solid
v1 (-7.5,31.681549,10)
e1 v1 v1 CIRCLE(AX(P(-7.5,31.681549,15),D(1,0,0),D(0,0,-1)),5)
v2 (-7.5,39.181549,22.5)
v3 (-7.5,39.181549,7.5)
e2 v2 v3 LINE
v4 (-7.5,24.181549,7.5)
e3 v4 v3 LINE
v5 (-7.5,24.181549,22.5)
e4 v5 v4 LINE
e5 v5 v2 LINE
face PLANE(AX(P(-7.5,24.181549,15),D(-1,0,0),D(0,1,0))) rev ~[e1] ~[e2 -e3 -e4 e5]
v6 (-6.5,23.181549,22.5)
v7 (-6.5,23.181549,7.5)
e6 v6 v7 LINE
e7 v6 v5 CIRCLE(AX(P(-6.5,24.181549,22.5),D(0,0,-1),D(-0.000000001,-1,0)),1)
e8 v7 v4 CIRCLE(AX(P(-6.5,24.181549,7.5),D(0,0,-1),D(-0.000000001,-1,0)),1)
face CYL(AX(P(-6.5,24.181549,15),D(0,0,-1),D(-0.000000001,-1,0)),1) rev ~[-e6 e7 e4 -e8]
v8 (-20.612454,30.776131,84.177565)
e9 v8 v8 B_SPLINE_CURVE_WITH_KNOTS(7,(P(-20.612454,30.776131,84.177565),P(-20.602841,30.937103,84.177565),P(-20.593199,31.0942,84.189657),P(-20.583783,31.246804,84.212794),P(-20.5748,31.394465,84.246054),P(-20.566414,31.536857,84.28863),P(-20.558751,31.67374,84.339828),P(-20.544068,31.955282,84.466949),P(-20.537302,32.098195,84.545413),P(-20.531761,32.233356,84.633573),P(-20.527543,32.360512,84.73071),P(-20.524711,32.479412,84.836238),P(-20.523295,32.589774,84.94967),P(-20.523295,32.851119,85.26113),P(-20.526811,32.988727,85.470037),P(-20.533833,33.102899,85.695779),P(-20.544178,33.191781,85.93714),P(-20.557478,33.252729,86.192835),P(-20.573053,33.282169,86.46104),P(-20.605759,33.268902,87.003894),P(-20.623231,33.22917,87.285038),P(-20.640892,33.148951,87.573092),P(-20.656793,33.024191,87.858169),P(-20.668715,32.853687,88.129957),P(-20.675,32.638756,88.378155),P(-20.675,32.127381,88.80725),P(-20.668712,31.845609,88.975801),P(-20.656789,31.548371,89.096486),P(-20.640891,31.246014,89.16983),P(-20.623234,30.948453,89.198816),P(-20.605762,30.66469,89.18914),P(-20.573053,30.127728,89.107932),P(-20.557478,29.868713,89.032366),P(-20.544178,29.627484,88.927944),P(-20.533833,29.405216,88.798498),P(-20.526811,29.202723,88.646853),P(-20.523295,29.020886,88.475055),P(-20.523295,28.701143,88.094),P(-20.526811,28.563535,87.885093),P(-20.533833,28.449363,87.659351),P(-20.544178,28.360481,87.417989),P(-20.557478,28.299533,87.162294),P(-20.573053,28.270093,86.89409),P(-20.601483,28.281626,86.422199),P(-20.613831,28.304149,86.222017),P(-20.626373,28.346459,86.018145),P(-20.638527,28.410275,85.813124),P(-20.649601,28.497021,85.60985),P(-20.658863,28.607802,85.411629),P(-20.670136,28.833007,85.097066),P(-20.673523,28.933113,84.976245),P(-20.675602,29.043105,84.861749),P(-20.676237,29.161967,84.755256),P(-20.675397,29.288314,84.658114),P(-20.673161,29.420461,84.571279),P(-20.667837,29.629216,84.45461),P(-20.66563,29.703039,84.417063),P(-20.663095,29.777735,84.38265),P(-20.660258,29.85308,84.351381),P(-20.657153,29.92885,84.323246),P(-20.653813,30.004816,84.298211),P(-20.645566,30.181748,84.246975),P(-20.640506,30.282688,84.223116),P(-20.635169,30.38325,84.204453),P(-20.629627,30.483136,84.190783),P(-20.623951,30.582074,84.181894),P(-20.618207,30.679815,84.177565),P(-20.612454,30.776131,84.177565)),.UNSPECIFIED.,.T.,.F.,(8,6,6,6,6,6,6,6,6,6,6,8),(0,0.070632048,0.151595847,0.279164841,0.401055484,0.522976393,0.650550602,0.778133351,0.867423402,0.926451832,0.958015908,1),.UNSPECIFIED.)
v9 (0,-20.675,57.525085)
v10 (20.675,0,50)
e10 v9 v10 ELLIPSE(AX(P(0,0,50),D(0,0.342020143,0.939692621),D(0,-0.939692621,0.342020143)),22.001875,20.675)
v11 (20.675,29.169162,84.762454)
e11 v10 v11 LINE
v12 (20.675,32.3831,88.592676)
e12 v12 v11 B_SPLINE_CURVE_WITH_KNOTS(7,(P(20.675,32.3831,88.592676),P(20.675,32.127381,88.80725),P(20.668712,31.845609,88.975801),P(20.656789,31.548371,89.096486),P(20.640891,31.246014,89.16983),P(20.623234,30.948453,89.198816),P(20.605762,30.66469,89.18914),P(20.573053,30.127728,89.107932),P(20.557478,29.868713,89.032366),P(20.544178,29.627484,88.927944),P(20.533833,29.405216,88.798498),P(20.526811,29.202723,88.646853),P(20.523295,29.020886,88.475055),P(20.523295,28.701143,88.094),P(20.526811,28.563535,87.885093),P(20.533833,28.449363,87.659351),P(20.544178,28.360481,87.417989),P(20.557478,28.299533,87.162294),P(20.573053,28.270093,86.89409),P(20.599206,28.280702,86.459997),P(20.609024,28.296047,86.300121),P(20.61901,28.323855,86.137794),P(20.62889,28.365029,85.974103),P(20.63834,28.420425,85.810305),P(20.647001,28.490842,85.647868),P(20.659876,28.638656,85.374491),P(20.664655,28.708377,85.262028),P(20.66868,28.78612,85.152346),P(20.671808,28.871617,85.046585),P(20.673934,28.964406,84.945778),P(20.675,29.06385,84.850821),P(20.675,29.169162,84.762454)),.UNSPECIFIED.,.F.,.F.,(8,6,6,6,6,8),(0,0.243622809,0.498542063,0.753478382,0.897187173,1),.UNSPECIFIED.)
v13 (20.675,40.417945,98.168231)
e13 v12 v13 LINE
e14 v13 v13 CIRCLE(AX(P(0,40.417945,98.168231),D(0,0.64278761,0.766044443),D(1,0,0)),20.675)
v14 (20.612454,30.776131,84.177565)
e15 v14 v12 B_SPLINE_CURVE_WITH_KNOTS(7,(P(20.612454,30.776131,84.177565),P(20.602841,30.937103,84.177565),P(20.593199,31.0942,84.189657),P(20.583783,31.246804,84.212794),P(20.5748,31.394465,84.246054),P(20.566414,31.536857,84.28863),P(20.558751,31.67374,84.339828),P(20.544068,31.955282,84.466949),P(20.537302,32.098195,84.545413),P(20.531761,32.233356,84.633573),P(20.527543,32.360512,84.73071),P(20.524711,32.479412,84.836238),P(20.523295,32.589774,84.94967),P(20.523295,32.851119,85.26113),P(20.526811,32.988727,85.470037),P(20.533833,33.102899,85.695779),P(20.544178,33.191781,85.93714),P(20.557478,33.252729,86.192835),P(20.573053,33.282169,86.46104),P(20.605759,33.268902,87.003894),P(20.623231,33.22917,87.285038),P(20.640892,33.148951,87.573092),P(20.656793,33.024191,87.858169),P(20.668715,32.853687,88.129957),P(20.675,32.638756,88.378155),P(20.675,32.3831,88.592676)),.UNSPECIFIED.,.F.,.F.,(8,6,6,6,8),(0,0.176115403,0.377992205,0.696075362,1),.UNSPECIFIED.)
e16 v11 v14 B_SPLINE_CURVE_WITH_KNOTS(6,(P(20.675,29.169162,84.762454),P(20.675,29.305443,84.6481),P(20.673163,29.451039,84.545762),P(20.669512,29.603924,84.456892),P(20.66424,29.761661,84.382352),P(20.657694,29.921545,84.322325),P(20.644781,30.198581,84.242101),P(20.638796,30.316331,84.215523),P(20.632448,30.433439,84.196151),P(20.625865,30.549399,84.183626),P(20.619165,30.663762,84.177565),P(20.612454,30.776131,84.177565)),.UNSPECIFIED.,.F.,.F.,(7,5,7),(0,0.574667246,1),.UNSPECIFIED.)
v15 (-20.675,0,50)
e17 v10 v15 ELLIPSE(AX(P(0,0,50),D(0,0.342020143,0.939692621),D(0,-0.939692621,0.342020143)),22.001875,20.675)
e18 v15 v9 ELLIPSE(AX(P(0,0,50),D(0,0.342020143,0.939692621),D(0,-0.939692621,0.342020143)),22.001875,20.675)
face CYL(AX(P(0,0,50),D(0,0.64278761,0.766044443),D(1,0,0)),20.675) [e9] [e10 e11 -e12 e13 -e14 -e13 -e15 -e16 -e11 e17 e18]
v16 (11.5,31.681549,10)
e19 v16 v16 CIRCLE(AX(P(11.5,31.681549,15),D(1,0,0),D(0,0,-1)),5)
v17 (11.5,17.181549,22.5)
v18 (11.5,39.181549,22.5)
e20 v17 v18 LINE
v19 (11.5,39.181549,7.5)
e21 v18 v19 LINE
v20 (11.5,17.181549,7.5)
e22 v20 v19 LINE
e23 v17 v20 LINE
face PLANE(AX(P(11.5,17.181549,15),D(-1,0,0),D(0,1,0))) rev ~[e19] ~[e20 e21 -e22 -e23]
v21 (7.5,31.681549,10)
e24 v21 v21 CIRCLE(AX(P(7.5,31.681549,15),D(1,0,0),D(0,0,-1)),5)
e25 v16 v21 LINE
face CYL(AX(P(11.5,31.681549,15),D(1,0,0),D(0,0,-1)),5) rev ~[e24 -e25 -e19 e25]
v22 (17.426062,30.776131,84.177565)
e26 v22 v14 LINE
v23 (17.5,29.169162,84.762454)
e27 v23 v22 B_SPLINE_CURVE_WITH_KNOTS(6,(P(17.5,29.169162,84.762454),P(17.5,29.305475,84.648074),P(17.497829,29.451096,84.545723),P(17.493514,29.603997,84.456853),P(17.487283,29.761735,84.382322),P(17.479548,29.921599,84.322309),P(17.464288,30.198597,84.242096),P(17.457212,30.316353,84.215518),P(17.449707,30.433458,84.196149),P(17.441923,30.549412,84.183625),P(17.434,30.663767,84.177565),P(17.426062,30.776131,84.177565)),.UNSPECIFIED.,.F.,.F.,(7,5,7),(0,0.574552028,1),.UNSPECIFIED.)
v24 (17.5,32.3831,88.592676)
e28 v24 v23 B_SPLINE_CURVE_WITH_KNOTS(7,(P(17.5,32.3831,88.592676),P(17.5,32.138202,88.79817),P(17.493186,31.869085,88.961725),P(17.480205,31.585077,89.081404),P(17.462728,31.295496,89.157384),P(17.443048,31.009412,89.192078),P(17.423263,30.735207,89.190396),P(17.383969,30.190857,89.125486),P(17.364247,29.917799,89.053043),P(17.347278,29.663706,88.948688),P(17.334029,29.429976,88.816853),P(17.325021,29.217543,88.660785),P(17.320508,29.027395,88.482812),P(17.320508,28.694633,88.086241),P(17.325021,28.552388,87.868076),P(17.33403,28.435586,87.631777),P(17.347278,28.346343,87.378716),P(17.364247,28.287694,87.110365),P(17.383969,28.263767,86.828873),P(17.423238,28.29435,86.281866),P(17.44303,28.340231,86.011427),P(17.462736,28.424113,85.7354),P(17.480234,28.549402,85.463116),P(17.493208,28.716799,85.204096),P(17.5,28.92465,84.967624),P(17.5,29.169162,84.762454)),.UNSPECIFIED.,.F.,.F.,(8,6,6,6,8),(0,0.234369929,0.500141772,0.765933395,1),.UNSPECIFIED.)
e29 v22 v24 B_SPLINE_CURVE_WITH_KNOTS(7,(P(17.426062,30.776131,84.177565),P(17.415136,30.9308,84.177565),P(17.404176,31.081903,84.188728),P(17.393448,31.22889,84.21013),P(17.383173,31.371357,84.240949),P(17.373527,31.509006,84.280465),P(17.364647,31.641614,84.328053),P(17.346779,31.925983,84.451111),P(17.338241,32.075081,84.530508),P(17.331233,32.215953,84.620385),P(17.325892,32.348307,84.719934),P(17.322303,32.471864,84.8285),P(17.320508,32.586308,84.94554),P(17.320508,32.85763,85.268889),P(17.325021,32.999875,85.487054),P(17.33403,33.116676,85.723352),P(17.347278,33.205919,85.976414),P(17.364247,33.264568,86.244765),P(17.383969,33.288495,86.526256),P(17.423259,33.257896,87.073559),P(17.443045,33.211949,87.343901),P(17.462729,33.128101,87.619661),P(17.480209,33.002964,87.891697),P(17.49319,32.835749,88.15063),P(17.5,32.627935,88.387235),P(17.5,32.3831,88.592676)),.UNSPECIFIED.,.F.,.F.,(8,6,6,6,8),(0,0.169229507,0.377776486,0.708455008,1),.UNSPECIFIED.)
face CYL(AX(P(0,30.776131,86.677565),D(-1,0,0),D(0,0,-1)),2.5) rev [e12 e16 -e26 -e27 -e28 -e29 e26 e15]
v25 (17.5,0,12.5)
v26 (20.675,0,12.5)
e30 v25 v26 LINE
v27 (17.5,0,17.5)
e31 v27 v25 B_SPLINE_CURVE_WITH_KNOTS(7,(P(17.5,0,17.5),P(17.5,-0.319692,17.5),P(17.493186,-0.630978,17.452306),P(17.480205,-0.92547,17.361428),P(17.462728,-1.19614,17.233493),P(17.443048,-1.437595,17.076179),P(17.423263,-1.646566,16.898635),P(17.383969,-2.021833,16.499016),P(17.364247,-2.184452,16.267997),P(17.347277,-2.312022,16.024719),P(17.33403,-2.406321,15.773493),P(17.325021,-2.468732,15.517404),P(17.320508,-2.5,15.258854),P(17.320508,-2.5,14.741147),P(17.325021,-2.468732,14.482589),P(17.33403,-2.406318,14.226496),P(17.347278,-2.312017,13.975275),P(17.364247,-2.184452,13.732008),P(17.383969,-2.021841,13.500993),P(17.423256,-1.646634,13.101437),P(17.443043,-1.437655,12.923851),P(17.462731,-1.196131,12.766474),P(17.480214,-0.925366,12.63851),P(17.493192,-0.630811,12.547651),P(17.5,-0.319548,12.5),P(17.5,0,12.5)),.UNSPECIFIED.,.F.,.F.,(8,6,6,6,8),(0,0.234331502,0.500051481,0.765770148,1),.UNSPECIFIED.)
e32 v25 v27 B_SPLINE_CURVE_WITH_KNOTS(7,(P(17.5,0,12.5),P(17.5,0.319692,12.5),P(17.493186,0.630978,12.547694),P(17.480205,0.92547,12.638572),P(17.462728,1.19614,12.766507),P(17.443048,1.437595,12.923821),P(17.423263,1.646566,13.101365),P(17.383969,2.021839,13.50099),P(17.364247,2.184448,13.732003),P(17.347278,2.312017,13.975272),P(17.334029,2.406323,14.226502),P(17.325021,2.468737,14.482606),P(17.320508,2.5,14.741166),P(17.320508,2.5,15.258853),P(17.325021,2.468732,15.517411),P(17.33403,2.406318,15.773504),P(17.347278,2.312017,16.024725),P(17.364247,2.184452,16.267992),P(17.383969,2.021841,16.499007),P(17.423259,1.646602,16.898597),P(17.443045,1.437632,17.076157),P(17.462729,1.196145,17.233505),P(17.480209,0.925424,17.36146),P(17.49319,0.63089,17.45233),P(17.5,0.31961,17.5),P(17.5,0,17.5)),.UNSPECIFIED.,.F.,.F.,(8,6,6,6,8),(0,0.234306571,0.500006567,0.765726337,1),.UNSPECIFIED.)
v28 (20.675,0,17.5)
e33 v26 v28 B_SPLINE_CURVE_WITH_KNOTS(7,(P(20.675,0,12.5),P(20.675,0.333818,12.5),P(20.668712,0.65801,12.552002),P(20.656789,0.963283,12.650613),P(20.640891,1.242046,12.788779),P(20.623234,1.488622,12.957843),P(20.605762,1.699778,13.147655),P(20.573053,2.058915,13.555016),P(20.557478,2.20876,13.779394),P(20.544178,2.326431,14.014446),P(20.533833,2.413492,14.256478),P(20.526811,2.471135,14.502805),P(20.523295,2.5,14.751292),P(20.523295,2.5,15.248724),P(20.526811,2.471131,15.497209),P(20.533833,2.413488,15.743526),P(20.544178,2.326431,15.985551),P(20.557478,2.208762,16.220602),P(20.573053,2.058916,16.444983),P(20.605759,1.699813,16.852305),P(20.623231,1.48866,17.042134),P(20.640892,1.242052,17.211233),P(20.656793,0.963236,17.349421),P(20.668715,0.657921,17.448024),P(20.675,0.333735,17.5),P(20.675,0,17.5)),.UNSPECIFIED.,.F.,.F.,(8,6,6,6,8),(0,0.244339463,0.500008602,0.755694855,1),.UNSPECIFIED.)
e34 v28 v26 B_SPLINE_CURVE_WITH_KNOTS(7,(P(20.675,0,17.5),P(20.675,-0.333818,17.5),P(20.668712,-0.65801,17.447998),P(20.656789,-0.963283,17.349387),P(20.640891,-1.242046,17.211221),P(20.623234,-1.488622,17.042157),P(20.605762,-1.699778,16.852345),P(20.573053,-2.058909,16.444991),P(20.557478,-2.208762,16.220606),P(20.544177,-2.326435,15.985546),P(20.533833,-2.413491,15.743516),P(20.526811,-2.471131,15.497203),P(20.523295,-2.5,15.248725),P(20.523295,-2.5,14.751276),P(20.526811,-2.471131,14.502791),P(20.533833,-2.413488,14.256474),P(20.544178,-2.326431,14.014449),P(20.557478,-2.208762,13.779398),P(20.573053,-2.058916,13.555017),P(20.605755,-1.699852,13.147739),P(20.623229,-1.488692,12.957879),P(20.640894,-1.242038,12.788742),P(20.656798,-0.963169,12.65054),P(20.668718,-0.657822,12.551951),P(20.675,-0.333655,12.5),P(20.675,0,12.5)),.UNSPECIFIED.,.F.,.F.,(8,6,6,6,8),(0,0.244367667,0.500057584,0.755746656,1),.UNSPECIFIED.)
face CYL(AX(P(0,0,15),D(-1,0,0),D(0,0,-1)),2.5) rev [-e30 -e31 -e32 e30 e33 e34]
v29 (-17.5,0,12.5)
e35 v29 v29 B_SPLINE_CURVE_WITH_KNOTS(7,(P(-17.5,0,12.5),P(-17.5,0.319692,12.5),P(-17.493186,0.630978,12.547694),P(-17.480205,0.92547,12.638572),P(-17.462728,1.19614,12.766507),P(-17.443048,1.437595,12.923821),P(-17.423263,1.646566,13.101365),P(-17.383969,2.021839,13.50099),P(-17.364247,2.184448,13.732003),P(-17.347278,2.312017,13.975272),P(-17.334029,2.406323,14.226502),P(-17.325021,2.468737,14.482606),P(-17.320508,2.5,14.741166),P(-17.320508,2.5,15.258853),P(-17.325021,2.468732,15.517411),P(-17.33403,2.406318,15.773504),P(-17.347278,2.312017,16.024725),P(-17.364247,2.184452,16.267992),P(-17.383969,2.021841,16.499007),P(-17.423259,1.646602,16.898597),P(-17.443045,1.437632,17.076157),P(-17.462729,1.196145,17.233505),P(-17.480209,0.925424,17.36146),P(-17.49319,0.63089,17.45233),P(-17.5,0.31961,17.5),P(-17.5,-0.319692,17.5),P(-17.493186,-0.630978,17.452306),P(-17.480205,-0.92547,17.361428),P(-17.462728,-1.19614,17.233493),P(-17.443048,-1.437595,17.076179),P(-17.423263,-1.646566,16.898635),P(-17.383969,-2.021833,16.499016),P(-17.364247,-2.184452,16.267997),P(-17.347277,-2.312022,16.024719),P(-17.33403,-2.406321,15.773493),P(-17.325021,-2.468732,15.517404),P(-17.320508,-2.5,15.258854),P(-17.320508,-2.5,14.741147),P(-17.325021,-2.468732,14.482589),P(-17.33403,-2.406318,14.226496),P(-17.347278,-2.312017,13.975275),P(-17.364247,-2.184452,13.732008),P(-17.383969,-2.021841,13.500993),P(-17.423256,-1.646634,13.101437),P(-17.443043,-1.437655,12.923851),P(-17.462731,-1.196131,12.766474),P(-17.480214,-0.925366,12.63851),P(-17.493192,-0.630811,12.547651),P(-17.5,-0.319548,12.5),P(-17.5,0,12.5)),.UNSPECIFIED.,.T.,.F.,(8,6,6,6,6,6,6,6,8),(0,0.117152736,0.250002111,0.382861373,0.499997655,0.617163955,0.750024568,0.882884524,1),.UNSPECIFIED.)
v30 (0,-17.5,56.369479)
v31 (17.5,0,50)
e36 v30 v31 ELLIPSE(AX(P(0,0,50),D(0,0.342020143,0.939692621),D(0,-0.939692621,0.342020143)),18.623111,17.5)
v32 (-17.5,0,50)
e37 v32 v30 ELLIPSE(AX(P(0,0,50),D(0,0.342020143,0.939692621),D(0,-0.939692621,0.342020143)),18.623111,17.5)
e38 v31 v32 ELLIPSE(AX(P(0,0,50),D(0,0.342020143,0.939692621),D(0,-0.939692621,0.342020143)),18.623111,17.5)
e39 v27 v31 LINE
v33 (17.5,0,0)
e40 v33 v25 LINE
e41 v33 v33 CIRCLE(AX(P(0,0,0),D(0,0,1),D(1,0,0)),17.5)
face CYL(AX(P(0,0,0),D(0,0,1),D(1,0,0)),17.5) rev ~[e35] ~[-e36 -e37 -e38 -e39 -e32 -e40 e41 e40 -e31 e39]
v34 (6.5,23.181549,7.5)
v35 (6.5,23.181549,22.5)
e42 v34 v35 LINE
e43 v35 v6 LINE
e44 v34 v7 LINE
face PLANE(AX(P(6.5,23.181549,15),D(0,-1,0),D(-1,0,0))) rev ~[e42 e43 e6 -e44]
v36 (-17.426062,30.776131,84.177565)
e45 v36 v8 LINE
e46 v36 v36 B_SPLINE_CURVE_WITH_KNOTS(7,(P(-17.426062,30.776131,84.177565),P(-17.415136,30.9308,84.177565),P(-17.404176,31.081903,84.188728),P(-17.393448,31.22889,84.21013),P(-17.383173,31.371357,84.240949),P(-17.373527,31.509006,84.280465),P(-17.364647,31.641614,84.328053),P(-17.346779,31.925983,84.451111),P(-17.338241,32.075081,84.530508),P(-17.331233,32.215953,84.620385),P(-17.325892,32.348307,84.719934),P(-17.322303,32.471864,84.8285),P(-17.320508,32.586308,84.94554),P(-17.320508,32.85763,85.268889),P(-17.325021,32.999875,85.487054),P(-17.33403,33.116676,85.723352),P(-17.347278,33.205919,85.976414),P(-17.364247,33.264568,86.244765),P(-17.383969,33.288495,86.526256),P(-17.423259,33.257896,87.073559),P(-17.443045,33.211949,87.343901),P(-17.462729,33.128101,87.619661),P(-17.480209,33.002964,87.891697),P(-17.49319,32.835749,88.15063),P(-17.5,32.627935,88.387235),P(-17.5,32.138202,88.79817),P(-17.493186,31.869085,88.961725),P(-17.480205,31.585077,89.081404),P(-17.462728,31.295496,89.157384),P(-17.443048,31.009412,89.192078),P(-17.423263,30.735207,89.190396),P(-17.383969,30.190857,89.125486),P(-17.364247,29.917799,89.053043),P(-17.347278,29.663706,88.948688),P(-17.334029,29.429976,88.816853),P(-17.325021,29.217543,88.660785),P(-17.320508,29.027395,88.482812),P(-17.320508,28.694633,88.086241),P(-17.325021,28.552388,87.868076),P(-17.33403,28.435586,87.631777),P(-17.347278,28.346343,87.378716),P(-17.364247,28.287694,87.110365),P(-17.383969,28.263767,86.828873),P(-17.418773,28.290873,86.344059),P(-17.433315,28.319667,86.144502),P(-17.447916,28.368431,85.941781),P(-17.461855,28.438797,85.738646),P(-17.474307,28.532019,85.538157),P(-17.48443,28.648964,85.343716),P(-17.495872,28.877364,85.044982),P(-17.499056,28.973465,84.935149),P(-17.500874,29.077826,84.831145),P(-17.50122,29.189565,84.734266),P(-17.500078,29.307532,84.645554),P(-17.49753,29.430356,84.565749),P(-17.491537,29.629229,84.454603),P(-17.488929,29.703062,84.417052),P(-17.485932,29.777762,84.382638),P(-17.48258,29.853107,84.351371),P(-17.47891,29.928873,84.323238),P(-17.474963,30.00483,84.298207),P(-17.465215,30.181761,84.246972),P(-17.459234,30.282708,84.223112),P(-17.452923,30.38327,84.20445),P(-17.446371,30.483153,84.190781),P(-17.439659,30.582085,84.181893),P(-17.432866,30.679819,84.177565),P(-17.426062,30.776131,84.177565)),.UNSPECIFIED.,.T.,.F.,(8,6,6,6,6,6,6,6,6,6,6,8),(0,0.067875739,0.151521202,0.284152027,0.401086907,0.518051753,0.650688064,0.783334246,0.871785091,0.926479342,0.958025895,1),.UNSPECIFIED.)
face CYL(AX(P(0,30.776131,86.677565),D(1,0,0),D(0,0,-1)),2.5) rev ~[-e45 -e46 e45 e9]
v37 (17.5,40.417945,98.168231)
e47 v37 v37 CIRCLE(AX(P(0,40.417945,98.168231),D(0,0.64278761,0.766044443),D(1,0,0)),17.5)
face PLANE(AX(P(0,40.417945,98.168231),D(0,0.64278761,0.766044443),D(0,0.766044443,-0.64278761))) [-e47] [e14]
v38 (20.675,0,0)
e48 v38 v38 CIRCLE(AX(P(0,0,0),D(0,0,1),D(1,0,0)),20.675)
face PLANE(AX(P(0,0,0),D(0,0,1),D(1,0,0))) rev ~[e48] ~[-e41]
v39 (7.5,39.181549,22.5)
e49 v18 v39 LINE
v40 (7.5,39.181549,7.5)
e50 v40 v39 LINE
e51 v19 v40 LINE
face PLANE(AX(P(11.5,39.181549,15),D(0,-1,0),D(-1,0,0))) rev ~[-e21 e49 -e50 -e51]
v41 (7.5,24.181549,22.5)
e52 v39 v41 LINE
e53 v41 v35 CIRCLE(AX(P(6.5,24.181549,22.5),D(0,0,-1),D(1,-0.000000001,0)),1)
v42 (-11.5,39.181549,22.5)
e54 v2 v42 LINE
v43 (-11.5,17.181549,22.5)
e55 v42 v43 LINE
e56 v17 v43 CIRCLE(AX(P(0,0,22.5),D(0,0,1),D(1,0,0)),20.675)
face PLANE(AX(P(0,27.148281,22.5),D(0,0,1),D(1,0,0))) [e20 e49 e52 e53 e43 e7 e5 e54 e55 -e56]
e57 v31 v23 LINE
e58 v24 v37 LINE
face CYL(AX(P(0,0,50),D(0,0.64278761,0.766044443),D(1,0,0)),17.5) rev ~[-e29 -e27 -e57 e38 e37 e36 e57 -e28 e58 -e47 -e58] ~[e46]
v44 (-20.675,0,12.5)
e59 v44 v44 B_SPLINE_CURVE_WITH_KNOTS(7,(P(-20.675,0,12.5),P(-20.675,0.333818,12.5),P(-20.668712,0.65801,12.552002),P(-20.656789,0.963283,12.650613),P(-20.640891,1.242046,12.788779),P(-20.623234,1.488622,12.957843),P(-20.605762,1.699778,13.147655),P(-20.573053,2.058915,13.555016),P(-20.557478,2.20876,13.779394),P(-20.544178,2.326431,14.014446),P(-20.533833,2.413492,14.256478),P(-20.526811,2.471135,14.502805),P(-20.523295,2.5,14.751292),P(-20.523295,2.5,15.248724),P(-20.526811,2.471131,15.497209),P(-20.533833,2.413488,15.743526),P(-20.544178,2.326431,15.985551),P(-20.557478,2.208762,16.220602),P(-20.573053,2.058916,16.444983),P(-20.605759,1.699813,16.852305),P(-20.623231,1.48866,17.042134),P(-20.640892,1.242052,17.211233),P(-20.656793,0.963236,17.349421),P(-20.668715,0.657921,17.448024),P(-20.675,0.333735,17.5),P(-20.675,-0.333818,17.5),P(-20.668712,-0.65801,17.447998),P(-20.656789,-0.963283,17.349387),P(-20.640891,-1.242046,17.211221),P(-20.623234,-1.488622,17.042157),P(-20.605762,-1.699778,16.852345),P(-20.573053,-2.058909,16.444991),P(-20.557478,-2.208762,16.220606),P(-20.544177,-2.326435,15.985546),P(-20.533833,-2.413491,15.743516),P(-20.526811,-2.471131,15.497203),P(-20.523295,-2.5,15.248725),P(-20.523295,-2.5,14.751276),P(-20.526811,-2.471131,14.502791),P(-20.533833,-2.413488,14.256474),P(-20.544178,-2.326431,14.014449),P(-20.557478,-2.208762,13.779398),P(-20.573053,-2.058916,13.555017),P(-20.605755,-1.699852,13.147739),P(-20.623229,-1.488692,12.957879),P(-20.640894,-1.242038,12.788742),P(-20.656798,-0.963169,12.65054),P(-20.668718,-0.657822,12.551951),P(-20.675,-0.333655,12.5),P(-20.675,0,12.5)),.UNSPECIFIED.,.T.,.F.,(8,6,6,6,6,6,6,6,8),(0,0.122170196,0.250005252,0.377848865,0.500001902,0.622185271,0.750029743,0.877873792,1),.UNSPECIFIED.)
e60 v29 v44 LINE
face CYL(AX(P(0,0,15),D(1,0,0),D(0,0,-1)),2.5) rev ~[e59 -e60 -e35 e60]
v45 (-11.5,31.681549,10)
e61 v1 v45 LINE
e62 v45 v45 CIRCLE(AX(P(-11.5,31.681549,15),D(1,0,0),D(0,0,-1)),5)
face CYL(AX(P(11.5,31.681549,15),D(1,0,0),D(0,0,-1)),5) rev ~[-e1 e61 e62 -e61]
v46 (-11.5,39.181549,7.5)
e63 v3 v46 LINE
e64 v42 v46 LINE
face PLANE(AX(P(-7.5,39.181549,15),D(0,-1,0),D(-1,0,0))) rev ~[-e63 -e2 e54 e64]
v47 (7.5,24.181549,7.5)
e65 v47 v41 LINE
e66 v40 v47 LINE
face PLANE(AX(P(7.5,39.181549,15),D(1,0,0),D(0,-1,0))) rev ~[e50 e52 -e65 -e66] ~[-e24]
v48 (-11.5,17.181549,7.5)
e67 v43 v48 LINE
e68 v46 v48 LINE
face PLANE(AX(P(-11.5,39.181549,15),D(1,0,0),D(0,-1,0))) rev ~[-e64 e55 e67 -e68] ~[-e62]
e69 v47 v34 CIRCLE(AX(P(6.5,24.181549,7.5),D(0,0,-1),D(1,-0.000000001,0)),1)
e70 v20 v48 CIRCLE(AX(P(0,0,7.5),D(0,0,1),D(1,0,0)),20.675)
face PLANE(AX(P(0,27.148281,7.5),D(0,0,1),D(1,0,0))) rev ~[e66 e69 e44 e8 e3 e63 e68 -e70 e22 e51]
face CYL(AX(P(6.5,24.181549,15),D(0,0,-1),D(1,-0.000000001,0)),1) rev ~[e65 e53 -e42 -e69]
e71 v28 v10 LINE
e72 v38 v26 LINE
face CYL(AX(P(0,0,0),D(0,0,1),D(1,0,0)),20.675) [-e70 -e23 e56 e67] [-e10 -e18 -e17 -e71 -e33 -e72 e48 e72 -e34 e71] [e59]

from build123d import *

# Parameters (mm, degrees)
SKETCH1_R                = 20.675
SKETCH1_R_2              = 17.5
SKETCH3_R                = 2.5
CUT_EXTRUDE1_DEPTH       = 21.675
CUT_EXTRUDE1_DEPTH_BACK  = 21.675
BOSS_EXTRUDE1_DEPTH      = 7.5
BOSS_EXTRUDE1_DEPTH_BACK = 7.5
SKETCH5_R                = 5
CUT_EXTRUDE2_DEPTH       = 10.1750001
CUT_EXTRUDE2_DEPTH_BACK  = 33.1750001


with BuildPart() as part:
    # Sweep1: sweep along a path in Sketch2
    with BuildLine(Plane(origin=(0, 0, 0), x_dir=(0, 0, -1), z_dir=(1, 0, 0))) as sweep1_path:
        Line((0, 0), (-50, 0))
        Line((-50, 0), (-98.168231432, 40.417945229))
    # Sketch1 → Sweep1 (sweep)
    with BuildSketch(Plane.XY):
        Circle(SKETCH1_R)
        Circle(SKETCH1_R_2, mode=Mode.SUBTRACT)
    sweep(path=sweep1_path.line, transition=Transition.RIGHT)

    # Sketch3 → Cut-Extrude1 (cut, two sides)
    with BuildSketch(Plane(origin=(0, 0, 0), x_dir=(0, 0, -1), z_dir=(1, 0, 0))) as cut_extrude1_sk:
        with Locations((-86.677564785, 30.776131084)):
            Circle(SKETCH3_R)
        with Locations((-15, 0)):
            Circle(SKETCH3_R)
    extrude(amount=CUT_EXTRUDE1_DEPTH, mode=Mode.SUBTRACT)
    extrude(cut_extrude1_sk.sketch, amount=-CUT_EXTRUDE1_DEPTH_BACK, mode=Mode.SUBTRACT)

    # Sketch4 → Boss-Extrude1 (add, two sides)
    with BuildSketch(Plane(origin=(0, 0, 15), x_dir=(-1, 0, 0), z_dir=(0, 0, -1))) as boss_extrude1_sk:
        with BuildLine():
            Line((-11.5, 39.18154897), (-7.5, 39.18154897))
            Line((-7.5, 39.18154897), (-7.5, 24.18154897))
            ThreePointArc((-7.5, 24.18154897), (-7.207106781, 23.474442189), (-6.5, 23.18154897))
            Line((-6.5, 23.18154897), (6.5, 23.18154897))
            ThreePointArc((6.5, 23.18154897), (7.207106781, 23.474442189), (7.5, 24.18154897))
            Line((7.5, 24.18154897), (7.5, 39.18154897))
            Line((7.5, 39.18154897), (11.5, 39.18154897))
            Line((11.5, 39.18154897), (11.5, 17.18154897))
            Line((11.5, 17.18154897), (8.31426673, 17.18154897))
            ThreePointArc((8.31426673, 17.18154897), (0, 19.0875), (-8.31426673, 17.18154897))
            Line((-8.31426673, 17.18154897), (-11.5, 17.18154897))
            Line((-11.5, 17.18154897), (-11.5, 39.18154897))
        make_face()
    extrude(amount=BOSS_EXTRUDE1_DEPTH)
    extrude(boss_extrude1_sk.sketch, amount=-BOSS_EXTRUDE1_DEPTH_BACK)

    # Sketch5 → Cut-Extrude2 (cut, two sides)
    with BuildSketch(Plane(origin=(11.5, 0, 0), x_dir=(0, 0, -1), z_dir=(1, 0, 0))) as cut_extrude2_sk:
        with Locations((-15, 31.68154897)):
            Circle(SKETCH5_R)
    extrude(amount=CUT_EXTRUDE2_DEPTH, mode=Mode.SUBTRACT)
    extrude(cut_extrude2_sk.sketch, amount=-CUT_EXTRUDE2_DEPTH_BACK, mode=Mode.SUBTRACT)


solid = part.part
